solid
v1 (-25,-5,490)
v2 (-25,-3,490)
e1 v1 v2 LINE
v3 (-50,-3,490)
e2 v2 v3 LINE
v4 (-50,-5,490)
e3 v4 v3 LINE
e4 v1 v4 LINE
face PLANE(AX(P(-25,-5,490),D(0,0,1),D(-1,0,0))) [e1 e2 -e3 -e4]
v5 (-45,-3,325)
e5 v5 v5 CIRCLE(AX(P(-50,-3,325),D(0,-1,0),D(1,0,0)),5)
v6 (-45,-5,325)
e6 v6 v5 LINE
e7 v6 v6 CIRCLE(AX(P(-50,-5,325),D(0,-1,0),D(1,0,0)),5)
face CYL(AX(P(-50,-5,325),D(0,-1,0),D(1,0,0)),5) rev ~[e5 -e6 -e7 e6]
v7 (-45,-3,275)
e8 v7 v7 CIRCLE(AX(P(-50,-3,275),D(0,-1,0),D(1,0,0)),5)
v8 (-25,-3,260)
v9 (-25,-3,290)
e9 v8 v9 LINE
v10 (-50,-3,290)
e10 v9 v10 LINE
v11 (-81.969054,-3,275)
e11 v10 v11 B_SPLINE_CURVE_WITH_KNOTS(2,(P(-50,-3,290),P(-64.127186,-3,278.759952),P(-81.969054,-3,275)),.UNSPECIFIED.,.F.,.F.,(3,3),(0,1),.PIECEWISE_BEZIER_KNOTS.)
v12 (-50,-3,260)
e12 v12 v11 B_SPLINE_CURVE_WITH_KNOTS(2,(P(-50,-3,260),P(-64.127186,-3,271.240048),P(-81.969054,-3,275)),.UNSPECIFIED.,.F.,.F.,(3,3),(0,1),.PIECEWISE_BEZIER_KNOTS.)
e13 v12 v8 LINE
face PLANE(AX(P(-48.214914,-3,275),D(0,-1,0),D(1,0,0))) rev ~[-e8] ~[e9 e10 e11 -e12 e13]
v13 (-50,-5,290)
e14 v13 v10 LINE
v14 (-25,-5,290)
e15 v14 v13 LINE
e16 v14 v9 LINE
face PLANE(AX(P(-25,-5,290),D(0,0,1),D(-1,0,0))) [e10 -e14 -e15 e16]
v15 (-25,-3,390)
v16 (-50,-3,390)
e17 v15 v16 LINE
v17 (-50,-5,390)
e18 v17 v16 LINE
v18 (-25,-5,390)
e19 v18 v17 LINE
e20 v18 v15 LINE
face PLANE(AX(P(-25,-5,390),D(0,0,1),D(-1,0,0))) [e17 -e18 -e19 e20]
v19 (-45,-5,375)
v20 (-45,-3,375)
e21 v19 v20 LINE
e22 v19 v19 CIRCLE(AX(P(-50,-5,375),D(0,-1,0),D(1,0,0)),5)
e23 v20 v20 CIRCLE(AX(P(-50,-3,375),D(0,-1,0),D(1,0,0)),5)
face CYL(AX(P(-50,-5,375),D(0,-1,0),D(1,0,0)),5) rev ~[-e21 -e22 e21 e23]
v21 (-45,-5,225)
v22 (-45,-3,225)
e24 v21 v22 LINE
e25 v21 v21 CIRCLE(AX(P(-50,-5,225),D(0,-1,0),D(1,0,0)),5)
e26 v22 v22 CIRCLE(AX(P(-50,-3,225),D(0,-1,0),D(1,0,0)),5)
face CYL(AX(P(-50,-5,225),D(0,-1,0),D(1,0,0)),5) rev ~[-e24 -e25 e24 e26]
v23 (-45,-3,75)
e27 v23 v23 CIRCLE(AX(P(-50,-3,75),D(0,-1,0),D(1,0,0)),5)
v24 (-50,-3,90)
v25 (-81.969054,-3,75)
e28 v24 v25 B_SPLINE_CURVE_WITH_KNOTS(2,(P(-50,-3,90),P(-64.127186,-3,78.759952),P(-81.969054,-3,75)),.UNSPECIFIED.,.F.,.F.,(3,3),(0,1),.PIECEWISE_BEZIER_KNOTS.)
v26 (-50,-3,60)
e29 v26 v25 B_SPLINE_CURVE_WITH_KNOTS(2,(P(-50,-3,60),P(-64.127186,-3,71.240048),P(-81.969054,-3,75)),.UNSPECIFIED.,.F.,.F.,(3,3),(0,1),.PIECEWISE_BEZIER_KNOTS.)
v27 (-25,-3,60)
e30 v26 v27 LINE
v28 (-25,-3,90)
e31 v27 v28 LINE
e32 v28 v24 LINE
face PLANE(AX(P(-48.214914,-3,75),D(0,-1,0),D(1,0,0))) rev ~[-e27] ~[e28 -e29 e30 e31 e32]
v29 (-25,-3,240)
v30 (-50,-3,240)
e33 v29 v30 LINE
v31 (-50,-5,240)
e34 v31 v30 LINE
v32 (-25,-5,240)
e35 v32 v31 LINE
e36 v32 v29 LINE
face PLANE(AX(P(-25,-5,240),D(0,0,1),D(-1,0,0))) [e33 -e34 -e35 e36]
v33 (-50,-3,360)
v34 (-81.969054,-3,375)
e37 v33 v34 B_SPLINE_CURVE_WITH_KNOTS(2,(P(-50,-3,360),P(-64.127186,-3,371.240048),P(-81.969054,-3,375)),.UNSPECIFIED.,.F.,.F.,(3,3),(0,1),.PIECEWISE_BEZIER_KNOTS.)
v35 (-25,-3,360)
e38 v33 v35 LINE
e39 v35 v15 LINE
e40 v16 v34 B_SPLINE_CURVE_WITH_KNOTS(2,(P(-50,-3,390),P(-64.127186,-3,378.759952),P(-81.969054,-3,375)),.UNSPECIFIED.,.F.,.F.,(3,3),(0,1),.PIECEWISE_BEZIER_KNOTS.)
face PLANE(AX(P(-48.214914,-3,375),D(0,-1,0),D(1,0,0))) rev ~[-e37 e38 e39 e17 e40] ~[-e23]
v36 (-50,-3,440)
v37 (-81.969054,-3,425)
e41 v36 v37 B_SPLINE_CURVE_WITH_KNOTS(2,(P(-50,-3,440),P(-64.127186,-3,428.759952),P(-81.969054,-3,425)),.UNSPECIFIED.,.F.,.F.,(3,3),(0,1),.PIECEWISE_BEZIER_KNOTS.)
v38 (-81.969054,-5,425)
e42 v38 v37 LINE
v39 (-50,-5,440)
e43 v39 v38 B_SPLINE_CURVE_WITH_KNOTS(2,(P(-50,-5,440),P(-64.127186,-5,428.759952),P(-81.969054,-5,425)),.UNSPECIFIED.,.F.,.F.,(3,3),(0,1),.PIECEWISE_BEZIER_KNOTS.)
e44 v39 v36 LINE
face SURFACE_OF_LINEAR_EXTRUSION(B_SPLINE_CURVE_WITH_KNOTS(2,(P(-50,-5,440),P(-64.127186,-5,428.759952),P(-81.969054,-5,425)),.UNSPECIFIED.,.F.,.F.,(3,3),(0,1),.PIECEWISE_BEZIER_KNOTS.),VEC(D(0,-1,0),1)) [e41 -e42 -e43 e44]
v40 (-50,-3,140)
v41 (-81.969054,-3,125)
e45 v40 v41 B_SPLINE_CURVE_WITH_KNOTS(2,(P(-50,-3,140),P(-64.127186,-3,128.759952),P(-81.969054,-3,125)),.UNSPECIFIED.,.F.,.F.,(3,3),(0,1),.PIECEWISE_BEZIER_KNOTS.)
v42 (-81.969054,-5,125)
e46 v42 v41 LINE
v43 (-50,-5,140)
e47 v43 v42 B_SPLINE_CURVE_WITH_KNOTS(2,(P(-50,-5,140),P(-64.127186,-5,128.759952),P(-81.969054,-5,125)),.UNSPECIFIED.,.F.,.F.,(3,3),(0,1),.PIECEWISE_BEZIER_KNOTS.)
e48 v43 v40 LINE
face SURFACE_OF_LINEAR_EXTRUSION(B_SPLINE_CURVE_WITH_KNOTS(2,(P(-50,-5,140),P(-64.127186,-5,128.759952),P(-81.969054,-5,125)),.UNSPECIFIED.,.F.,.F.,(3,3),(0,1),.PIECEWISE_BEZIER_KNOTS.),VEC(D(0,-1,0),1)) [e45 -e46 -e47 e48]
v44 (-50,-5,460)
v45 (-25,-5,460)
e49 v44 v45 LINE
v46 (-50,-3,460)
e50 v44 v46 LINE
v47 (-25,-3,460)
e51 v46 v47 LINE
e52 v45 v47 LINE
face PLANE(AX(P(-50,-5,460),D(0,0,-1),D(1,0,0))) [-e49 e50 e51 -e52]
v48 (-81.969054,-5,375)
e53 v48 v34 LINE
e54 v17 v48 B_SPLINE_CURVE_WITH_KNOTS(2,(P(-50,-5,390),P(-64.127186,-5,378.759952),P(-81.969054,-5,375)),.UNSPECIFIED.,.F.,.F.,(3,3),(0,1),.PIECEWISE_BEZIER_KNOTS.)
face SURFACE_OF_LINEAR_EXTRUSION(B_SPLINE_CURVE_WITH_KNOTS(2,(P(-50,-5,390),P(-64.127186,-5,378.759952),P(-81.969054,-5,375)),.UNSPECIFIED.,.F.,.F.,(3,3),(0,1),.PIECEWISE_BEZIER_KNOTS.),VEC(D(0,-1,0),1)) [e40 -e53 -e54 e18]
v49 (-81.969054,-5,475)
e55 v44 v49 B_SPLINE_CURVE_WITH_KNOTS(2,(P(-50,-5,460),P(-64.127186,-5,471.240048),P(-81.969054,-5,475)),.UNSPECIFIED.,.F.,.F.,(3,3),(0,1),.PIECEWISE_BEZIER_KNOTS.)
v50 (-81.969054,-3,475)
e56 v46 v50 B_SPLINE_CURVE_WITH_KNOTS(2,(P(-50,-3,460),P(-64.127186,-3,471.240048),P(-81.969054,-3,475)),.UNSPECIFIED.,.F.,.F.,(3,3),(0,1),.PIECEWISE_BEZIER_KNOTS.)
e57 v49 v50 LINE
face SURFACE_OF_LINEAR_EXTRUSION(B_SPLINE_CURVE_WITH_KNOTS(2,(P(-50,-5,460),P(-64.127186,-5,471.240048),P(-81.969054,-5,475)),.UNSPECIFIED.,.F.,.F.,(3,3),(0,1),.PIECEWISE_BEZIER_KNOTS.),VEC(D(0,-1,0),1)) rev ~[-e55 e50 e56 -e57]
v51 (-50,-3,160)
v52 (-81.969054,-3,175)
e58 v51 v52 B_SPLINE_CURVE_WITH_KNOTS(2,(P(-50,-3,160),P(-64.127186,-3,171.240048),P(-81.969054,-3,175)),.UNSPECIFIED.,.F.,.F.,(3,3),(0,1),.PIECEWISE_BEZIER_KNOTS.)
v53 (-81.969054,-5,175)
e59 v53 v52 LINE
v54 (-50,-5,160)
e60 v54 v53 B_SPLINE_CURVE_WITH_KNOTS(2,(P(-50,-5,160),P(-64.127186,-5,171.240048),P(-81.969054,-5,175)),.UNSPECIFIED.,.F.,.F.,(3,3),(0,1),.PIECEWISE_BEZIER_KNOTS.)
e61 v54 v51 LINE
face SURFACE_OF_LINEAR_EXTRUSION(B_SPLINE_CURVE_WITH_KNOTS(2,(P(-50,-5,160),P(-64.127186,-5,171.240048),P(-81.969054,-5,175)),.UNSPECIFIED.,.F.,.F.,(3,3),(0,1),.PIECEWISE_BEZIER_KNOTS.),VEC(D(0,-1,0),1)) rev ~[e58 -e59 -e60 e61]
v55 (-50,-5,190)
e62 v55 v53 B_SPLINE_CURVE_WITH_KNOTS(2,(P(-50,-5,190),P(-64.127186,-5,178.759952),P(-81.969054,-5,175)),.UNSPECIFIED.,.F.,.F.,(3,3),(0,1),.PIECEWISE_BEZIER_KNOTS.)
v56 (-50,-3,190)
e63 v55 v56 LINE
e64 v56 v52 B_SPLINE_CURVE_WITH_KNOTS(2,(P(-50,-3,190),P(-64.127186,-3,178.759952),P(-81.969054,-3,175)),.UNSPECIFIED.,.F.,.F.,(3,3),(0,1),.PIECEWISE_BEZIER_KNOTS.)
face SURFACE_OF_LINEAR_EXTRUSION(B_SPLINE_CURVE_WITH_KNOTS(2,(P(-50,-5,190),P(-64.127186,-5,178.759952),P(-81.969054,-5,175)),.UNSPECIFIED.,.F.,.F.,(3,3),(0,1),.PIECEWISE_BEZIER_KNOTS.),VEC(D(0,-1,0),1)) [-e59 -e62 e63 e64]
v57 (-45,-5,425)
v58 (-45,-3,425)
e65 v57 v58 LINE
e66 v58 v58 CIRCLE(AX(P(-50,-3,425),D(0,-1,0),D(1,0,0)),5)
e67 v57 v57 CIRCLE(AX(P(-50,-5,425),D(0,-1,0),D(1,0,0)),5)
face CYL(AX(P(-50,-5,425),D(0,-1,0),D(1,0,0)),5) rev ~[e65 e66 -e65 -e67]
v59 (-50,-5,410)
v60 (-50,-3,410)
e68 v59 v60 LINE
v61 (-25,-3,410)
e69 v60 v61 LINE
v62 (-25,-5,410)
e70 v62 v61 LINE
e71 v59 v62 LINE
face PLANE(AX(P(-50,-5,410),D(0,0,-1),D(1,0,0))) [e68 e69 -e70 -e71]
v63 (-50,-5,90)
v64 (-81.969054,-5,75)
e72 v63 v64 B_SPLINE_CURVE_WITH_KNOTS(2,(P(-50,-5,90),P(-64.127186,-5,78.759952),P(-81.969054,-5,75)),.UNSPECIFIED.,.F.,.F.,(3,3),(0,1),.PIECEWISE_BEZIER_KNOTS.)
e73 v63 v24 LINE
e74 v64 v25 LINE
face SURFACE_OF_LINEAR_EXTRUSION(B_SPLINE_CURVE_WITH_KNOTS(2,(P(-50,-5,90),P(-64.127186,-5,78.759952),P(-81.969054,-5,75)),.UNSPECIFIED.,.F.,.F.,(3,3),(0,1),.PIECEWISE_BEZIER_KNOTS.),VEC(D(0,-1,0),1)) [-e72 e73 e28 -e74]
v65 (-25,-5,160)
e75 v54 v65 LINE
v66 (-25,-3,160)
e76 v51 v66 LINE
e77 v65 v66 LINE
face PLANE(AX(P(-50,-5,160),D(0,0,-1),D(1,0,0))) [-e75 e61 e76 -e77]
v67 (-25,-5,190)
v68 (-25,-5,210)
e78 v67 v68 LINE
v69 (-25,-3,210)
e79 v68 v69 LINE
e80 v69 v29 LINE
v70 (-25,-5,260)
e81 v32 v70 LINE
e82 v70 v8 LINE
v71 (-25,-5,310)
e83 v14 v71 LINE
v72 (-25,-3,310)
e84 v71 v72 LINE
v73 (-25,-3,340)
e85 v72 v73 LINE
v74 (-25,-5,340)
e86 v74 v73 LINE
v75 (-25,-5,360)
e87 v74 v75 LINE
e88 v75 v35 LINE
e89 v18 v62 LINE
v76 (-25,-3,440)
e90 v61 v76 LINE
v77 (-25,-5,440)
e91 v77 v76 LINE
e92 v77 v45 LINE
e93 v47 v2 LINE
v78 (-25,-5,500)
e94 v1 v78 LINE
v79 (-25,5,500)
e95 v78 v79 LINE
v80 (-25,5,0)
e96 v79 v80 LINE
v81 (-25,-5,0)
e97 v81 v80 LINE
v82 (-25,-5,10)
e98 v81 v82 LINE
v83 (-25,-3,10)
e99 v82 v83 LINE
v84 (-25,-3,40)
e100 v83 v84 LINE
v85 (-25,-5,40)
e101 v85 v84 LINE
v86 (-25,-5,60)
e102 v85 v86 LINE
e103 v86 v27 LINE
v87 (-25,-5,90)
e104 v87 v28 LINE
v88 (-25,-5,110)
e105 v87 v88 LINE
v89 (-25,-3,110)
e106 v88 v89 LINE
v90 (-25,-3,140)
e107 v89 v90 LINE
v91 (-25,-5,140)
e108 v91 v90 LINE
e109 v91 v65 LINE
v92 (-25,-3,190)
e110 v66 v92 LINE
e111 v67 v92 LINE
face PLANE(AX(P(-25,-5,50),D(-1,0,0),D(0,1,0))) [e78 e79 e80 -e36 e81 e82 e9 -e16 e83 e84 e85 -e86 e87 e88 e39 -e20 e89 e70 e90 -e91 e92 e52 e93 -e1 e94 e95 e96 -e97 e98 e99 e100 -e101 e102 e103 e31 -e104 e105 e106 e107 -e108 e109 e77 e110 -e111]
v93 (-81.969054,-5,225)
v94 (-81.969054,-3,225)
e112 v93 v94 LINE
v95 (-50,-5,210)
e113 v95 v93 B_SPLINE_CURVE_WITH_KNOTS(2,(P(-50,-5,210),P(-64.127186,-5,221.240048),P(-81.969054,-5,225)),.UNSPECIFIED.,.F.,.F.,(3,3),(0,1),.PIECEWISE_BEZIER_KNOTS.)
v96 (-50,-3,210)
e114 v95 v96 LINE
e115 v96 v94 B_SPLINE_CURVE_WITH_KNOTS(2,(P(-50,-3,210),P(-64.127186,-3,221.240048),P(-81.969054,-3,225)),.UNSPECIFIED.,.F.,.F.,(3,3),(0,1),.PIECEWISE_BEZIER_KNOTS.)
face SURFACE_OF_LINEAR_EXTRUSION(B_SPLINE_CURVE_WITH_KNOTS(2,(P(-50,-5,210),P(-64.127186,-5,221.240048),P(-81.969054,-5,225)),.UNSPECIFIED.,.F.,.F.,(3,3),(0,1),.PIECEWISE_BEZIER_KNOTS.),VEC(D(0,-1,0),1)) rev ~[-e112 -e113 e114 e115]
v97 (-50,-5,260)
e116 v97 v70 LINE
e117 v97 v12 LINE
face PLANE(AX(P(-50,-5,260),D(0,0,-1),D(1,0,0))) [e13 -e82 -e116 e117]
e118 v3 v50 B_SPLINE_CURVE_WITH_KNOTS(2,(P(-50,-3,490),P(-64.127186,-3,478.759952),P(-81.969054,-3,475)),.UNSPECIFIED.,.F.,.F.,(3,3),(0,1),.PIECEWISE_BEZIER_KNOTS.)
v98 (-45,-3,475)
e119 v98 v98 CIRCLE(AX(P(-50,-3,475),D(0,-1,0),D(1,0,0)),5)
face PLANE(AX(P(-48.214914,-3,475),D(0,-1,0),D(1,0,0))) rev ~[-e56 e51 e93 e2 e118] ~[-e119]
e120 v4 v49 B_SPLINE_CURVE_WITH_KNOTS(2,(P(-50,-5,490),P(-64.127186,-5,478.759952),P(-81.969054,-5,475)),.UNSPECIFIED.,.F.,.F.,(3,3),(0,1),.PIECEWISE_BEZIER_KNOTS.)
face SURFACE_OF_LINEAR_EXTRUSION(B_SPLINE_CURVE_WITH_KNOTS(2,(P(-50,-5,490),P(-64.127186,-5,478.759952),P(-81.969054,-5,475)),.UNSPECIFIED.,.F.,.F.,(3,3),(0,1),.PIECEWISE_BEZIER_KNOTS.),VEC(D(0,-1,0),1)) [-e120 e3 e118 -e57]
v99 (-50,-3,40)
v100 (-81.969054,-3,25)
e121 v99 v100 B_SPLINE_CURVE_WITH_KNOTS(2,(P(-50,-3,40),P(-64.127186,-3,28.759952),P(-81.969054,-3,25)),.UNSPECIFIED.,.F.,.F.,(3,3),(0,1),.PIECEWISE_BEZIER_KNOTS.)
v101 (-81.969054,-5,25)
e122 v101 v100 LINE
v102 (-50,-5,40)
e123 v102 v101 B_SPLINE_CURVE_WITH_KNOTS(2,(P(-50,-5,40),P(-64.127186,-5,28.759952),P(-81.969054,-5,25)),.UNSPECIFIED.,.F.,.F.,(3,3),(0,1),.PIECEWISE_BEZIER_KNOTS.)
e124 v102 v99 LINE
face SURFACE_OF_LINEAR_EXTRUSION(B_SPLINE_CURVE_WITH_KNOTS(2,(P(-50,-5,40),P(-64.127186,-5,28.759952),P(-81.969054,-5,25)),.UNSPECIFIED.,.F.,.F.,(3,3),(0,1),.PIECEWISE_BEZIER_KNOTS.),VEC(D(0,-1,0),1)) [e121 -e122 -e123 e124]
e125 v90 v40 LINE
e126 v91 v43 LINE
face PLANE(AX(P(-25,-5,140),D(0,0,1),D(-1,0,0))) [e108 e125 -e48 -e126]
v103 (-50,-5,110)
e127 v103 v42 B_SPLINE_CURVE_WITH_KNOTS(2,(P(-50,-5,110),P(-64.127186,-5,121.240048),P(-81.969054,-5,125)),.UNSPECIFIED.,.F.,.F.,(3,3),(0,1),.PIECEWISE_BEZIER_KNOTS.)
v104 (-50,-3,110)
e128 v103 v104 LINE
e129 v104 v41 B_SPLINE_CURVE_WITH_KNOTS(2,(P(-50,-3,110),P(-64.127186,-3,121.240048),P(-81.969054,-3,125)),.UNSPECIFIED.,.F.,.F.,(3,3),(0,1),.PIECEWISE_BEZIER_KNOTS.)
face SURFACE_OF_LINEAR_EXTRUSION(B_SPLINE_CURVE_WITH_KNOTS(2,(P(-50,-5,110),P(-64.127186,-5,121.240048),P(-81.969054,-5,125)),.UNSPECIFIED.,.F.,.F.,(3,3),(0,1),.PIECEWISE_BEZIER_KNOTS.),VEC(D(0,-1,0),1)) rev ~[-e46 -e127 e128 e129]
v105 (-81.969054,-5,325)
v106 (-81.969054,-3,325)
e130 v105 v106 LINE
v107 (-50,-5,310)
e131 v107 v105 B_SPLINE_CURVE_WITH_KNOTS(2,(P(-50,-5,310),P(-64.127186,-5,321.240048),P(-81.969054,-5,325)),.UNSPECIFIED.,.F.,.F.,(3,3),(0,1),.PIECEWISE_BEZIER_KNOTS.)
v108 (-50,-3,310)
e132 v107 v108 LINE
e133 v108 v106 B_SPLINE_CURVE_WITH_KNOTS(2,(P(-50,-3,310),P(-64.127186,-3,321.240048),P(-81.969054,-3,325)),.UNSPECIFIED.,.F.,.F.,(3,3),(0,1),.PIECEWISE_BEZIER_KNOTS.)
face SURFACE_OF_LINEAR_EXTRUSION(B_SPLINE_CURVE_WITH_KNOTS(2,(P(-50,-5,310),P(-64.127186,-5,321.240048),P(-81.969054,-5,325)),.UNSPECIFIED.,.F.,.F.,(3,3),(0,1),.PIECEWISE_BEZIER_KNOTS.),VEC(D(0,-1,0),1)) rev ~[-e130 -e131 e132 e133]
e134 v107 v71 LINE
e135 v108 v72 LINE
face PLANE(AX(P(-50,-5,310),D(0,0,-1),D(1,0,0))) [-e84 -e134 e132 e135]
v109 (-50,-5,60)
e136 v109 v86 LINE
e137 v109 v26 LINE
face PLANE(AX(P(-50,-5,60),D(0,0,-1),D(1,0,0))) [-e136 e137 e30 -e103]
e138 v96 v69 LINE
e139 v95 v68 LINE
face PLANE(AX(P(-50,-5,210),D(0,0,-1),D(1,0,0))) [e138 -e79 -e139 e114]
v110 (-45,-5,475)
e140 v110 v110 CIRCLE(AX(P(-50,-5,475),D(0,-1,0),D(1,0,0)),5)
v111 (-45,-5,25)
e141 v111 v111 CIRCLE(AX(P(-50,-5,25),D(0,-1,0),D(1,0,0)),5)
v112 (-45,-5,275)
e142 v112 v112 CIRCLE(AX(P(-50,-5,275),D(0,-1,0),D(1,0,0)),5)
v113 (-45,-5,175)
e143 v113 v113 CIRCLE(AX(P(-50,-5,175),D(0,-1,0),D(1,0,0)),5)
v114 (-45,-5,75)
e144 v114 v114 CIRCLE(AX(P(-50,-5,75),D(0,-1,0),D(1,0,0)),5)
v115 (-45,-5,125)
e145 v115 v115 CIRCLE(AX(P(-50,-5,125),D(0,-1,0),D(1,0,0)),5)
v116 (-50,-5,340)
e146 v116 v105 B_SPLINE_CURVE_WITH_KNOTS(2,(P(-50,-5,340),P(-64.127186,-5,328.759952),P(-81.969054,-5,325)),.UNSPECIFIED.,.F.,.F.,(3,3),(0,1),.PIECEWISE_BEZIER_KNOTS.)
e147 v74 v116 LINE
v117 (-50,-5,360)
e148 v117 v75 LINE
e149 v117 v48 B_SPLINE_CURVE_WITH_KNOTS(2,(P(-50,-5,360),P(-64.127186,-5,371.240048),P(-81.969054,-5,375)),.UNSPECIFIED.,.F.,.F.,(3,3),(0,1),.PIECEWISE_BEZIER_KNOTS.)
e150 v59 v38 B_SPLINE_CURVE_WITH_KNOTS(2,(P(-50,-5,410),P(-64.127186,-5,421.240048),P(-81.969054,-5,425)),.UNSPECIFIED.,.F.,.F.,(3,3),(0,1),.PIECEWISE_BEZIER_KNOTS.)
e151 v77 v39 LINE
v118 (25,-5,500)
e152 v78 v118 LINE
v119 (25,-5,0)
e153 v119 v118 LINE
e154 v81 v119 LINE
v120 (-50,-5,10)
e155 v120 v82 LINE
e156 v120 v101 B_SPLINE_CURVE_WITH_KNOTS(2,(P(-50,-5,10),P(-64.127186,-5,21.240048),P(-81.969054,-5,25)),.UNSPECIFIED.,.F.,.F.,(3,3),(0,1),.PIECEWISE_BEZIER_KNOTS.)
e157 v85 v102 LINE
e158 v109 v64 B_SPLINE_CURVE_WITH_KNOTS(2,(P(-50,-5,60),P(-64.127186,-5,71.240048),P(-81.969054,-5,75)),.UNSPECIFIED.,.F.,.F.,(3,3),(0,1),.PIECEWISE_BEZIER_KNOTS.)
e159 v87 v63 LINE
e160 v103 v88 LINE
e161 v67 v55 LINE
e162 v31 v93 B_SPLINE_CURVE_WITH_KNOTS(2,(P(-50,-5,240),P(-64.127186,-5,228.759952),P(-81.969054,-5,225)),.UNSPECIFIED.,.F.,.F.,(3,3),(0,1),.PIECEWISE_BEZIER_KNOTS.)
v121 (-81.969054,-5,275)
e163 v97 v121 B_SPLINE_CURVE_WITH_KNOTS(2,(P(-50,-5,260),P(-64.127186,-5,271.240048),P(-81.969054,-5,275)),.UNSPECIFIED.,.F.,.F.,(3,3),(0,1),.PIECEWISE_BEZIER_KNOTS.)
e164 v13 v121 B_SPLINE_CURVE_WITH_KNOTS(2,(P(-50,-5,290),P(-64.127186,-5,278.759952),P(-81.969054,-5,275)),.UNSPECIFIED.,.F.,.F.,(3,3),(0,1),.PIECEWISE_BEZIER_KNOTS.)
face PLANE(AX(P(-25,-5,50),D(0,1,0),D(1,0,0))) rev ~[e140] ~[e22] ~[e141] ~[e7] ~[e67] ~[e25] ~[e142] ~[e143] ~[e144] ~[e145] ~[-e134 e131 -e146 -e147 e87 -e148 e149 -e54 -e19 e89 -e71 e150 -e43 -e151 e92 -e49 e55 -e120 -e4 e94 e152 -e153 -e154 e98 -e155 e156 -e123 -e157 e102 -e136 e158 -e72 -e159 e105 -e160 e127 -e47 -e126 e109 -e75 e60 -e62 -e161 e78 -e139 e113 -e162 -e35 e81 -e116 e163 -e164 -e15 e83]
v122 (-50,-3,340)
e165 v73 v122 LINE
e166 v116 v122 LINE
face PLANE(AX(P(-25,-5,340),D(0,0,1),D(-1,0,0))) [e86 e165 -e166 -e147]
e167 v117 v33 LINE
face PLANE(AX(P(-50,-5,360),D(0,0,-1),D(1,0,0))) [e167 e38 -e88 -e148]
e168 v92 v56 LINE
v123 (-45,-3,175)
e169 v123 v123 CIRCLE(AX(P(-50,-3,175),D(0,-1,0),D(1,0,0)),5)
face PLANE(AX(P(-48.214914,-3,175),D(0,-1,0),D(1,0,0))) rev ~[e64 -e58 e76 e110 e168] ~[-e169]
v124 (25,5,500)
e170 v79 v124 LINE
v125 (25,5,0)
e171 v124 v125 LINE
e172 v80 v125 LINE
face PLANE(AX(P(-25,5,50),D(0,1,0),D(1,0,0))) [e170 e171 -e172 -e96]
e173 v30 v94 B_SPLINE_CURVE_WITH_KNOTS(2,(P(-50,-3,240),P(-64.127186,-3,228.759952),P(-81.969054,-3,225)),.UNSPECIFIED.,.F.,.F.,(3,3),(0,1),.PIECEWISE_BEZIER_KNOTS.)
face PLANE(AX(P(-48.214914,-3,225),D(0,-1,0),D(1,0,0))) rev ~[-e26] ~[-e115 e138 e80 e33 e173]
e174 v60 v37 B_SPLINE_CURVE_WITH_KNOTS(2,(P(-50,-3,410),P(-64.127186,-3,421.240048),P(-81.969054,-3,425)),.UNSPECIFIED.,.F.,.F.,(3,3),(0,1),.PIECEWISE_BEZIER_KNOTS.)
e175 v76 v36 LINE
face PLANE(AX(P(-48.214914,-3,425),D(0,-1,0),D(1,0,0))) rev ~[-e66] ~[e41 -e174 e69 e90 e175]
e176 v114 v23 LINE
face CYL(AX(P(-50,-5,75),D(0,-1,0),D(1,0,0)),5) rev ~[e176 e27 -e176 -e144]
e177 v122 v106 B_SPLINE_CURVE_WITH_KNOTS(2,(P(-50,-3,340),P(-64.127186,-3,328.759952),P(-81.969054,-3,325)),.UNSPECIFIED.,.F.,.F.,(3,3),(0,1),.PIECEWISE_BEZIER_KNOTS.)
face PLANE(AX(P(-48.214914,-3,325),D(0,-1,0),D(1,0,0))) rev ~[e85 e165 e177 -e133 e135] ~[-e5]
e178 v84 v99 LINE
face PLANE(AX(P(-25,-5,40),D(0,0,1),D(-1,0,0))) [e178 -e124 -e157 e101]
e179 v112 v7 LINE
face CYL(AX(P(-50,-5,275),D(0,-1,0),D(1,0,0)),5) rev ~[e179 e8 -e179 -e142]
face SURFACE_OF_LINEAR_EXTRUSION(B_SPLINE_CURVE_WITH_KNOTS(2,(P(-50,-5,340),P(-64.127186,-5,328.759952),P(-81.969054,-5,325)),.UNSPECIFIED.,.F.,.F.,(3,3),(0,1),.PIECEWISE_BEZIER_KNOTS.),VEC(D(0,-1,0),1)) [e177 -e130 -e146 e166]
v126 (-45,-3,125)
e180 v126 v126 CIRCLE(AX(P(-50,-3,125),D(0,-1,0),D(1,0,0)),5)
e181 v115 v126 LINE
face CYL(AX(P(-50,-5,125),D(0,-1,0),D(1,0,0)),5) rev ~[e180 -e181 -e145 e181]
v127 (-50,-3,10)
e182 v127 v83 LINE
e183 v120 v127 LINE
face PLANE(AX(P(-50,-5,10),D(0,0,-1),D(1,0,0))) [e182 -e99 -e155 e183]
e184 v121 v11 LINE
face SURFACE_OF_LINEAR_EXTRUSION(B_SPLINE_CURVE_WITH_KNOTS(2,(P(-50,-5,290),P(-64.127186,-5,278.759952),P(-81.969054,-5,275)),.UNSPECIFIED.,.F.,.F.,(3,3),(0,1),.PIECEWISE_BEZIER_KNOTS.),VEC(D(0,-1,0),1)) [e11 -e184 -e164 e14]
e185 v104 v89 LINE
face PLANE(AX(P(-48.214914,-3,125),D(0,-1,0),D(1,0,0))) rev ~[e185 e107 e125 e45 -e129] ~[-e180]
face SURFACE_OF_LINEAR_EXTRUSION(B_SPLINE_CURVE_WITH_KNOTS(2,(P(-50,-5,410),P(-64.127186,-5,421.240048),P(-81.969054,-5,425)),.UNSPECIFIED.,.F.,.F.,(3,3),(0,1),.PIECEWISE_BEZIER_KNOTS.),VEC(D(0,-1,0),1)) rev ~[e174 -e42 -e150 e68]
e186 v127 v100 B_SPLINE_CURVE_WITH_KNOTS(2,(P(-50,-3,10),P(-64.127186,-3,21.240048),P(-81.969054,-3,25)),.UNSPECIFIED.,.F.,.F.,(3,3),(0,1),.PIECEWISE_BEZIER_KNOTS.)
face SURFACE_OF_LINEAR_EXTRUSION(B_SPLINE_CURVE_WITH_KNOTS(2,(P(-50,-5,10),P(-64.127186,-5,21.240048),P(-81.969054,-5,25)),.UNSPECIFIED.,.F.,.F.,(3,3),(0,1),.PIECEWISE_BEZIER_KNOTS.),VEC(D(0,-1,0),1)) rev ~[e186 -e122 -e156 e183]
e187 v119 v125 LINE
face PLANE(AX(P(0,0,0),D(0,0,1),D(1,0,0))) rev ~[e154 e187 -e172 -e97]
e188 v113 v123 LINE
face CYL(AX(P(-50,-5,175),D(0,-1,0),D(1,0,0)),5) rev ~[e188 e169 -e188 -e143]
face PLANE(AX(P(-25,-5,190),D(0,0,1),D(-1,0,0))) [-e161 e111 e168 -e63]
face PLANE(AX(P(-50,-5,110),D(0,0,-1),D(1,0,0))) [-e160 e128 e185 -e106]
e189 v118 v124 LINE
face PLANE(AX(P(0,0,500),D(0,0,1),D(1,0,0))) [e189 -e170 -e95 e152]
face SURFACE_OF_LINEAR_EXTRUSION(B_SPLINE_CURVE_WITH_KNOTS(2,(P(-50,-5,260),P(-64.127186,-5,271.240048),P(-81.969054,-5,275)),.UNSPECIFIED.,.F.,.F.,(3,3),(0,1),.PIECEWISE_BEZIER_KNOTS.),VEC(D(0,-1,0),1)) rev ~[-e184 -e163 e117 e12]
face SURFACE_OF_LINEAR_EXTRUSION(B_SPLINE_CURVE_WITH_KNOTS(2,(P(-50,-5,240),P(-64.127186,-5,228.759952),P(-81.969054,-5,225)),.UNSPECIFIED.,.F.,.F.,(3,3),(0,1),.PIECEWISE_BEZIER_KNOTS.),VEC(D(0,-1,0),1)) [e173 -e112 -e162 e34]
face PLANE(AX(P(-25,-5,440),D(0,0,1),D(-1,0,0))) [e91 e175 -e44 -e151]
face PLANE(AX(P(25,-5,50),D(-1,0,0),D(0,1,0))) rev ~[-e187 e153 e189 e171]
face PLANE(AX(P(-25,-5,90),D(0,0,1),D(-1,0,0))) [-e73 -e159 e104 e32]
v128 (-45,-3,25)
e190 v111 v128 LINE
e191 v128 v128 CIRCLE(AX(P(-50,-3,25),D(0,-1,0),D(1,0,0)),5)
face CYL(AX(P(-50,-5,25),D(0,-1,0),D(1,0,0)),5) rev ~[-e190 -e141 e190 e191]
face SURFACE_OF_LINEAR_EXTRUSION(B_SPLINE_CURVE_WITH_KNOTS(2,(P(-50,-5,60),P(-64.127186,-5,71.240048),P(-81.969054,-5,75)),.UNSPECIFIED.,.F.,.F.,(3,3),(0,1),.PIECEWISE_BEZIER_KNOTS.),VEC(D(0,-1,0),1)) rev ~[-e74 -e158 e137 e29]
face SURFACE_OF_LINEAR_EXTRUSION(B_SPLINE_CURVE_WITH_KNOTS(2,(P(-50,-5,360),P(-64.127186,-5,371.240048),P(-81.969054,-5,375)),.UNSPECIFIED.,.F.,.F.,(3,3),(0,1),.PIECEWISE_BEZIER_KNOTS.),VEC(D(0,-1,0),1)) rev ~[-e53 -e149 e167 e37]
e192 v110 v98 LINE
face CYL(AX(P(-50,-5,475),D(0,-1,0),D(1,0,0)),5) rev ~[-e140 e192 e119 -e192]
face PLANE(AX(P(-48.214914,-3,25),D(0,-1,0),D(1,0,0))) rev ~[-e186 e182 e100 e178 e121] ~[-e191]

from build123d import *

# Parameters (mm, degrees)
SKETCH1_W           = 50
SKETCH1_H           = 10
BOSS_EXTRUDE1_DEPTH = 50
SKETCH2_R           = 5
BOSS_EXTRUDE2_DEPTH = 2
LPATTERN1_COUNT     = 10
LPATTERN1_PITCH     = 50


with BuildPart() as part:
    # Sketch1 → Boss-Extrude1 (new body)
    with BuildSketch(Plane.XY):
        Rectangle(SKETCH1_W, SKETCH1_H)
    boss_extrude1 = extrude(amount=BOSS_EXTRUDE1_DEPTH)

    # Sketch2 → Boss-Extrude2 (add)
    with BuildSketch(Plane.XZ.offset(5)):
        with BuildLine():
            Line((-50, 10), (-25, 10))
            Line((-25, 10), (-25, 40))
            Line((-25, 40), (-50, 40))
            add(Edge.make_bspline(
                [(-50, 40), (-64.127186128, 28.759951739), (-81.969053702, 25)],
                knots=[0, 0, 0, 1, 1, 1], degree=2))
            add(Edge.make_bspline(
                [(-50, 10), (-64.127186128, 21.240048261), (-81.969053702, 25)],
                knots=[0, 0, 0, 1, 1, 1], degree=2))
        make_face()
        with Locations((-50, 25)):
            Circle(SKETCH2_R, mode=Mode.SUBTRACT)
    boss_extrude2 = extrude(amount=-BOSS_EXTRUDE2_DEPTH)

    # LPattern1: Boss-Extrude1, Boss-Extrude2 ×10
    with Locations(*[(0, 0, i * LPATTERN1_PITCH) for i in range(1, LPATTERN1_COUNT)]):
        add(boss_extrude1)
        add(boss_extrude2)


solid = part.part
